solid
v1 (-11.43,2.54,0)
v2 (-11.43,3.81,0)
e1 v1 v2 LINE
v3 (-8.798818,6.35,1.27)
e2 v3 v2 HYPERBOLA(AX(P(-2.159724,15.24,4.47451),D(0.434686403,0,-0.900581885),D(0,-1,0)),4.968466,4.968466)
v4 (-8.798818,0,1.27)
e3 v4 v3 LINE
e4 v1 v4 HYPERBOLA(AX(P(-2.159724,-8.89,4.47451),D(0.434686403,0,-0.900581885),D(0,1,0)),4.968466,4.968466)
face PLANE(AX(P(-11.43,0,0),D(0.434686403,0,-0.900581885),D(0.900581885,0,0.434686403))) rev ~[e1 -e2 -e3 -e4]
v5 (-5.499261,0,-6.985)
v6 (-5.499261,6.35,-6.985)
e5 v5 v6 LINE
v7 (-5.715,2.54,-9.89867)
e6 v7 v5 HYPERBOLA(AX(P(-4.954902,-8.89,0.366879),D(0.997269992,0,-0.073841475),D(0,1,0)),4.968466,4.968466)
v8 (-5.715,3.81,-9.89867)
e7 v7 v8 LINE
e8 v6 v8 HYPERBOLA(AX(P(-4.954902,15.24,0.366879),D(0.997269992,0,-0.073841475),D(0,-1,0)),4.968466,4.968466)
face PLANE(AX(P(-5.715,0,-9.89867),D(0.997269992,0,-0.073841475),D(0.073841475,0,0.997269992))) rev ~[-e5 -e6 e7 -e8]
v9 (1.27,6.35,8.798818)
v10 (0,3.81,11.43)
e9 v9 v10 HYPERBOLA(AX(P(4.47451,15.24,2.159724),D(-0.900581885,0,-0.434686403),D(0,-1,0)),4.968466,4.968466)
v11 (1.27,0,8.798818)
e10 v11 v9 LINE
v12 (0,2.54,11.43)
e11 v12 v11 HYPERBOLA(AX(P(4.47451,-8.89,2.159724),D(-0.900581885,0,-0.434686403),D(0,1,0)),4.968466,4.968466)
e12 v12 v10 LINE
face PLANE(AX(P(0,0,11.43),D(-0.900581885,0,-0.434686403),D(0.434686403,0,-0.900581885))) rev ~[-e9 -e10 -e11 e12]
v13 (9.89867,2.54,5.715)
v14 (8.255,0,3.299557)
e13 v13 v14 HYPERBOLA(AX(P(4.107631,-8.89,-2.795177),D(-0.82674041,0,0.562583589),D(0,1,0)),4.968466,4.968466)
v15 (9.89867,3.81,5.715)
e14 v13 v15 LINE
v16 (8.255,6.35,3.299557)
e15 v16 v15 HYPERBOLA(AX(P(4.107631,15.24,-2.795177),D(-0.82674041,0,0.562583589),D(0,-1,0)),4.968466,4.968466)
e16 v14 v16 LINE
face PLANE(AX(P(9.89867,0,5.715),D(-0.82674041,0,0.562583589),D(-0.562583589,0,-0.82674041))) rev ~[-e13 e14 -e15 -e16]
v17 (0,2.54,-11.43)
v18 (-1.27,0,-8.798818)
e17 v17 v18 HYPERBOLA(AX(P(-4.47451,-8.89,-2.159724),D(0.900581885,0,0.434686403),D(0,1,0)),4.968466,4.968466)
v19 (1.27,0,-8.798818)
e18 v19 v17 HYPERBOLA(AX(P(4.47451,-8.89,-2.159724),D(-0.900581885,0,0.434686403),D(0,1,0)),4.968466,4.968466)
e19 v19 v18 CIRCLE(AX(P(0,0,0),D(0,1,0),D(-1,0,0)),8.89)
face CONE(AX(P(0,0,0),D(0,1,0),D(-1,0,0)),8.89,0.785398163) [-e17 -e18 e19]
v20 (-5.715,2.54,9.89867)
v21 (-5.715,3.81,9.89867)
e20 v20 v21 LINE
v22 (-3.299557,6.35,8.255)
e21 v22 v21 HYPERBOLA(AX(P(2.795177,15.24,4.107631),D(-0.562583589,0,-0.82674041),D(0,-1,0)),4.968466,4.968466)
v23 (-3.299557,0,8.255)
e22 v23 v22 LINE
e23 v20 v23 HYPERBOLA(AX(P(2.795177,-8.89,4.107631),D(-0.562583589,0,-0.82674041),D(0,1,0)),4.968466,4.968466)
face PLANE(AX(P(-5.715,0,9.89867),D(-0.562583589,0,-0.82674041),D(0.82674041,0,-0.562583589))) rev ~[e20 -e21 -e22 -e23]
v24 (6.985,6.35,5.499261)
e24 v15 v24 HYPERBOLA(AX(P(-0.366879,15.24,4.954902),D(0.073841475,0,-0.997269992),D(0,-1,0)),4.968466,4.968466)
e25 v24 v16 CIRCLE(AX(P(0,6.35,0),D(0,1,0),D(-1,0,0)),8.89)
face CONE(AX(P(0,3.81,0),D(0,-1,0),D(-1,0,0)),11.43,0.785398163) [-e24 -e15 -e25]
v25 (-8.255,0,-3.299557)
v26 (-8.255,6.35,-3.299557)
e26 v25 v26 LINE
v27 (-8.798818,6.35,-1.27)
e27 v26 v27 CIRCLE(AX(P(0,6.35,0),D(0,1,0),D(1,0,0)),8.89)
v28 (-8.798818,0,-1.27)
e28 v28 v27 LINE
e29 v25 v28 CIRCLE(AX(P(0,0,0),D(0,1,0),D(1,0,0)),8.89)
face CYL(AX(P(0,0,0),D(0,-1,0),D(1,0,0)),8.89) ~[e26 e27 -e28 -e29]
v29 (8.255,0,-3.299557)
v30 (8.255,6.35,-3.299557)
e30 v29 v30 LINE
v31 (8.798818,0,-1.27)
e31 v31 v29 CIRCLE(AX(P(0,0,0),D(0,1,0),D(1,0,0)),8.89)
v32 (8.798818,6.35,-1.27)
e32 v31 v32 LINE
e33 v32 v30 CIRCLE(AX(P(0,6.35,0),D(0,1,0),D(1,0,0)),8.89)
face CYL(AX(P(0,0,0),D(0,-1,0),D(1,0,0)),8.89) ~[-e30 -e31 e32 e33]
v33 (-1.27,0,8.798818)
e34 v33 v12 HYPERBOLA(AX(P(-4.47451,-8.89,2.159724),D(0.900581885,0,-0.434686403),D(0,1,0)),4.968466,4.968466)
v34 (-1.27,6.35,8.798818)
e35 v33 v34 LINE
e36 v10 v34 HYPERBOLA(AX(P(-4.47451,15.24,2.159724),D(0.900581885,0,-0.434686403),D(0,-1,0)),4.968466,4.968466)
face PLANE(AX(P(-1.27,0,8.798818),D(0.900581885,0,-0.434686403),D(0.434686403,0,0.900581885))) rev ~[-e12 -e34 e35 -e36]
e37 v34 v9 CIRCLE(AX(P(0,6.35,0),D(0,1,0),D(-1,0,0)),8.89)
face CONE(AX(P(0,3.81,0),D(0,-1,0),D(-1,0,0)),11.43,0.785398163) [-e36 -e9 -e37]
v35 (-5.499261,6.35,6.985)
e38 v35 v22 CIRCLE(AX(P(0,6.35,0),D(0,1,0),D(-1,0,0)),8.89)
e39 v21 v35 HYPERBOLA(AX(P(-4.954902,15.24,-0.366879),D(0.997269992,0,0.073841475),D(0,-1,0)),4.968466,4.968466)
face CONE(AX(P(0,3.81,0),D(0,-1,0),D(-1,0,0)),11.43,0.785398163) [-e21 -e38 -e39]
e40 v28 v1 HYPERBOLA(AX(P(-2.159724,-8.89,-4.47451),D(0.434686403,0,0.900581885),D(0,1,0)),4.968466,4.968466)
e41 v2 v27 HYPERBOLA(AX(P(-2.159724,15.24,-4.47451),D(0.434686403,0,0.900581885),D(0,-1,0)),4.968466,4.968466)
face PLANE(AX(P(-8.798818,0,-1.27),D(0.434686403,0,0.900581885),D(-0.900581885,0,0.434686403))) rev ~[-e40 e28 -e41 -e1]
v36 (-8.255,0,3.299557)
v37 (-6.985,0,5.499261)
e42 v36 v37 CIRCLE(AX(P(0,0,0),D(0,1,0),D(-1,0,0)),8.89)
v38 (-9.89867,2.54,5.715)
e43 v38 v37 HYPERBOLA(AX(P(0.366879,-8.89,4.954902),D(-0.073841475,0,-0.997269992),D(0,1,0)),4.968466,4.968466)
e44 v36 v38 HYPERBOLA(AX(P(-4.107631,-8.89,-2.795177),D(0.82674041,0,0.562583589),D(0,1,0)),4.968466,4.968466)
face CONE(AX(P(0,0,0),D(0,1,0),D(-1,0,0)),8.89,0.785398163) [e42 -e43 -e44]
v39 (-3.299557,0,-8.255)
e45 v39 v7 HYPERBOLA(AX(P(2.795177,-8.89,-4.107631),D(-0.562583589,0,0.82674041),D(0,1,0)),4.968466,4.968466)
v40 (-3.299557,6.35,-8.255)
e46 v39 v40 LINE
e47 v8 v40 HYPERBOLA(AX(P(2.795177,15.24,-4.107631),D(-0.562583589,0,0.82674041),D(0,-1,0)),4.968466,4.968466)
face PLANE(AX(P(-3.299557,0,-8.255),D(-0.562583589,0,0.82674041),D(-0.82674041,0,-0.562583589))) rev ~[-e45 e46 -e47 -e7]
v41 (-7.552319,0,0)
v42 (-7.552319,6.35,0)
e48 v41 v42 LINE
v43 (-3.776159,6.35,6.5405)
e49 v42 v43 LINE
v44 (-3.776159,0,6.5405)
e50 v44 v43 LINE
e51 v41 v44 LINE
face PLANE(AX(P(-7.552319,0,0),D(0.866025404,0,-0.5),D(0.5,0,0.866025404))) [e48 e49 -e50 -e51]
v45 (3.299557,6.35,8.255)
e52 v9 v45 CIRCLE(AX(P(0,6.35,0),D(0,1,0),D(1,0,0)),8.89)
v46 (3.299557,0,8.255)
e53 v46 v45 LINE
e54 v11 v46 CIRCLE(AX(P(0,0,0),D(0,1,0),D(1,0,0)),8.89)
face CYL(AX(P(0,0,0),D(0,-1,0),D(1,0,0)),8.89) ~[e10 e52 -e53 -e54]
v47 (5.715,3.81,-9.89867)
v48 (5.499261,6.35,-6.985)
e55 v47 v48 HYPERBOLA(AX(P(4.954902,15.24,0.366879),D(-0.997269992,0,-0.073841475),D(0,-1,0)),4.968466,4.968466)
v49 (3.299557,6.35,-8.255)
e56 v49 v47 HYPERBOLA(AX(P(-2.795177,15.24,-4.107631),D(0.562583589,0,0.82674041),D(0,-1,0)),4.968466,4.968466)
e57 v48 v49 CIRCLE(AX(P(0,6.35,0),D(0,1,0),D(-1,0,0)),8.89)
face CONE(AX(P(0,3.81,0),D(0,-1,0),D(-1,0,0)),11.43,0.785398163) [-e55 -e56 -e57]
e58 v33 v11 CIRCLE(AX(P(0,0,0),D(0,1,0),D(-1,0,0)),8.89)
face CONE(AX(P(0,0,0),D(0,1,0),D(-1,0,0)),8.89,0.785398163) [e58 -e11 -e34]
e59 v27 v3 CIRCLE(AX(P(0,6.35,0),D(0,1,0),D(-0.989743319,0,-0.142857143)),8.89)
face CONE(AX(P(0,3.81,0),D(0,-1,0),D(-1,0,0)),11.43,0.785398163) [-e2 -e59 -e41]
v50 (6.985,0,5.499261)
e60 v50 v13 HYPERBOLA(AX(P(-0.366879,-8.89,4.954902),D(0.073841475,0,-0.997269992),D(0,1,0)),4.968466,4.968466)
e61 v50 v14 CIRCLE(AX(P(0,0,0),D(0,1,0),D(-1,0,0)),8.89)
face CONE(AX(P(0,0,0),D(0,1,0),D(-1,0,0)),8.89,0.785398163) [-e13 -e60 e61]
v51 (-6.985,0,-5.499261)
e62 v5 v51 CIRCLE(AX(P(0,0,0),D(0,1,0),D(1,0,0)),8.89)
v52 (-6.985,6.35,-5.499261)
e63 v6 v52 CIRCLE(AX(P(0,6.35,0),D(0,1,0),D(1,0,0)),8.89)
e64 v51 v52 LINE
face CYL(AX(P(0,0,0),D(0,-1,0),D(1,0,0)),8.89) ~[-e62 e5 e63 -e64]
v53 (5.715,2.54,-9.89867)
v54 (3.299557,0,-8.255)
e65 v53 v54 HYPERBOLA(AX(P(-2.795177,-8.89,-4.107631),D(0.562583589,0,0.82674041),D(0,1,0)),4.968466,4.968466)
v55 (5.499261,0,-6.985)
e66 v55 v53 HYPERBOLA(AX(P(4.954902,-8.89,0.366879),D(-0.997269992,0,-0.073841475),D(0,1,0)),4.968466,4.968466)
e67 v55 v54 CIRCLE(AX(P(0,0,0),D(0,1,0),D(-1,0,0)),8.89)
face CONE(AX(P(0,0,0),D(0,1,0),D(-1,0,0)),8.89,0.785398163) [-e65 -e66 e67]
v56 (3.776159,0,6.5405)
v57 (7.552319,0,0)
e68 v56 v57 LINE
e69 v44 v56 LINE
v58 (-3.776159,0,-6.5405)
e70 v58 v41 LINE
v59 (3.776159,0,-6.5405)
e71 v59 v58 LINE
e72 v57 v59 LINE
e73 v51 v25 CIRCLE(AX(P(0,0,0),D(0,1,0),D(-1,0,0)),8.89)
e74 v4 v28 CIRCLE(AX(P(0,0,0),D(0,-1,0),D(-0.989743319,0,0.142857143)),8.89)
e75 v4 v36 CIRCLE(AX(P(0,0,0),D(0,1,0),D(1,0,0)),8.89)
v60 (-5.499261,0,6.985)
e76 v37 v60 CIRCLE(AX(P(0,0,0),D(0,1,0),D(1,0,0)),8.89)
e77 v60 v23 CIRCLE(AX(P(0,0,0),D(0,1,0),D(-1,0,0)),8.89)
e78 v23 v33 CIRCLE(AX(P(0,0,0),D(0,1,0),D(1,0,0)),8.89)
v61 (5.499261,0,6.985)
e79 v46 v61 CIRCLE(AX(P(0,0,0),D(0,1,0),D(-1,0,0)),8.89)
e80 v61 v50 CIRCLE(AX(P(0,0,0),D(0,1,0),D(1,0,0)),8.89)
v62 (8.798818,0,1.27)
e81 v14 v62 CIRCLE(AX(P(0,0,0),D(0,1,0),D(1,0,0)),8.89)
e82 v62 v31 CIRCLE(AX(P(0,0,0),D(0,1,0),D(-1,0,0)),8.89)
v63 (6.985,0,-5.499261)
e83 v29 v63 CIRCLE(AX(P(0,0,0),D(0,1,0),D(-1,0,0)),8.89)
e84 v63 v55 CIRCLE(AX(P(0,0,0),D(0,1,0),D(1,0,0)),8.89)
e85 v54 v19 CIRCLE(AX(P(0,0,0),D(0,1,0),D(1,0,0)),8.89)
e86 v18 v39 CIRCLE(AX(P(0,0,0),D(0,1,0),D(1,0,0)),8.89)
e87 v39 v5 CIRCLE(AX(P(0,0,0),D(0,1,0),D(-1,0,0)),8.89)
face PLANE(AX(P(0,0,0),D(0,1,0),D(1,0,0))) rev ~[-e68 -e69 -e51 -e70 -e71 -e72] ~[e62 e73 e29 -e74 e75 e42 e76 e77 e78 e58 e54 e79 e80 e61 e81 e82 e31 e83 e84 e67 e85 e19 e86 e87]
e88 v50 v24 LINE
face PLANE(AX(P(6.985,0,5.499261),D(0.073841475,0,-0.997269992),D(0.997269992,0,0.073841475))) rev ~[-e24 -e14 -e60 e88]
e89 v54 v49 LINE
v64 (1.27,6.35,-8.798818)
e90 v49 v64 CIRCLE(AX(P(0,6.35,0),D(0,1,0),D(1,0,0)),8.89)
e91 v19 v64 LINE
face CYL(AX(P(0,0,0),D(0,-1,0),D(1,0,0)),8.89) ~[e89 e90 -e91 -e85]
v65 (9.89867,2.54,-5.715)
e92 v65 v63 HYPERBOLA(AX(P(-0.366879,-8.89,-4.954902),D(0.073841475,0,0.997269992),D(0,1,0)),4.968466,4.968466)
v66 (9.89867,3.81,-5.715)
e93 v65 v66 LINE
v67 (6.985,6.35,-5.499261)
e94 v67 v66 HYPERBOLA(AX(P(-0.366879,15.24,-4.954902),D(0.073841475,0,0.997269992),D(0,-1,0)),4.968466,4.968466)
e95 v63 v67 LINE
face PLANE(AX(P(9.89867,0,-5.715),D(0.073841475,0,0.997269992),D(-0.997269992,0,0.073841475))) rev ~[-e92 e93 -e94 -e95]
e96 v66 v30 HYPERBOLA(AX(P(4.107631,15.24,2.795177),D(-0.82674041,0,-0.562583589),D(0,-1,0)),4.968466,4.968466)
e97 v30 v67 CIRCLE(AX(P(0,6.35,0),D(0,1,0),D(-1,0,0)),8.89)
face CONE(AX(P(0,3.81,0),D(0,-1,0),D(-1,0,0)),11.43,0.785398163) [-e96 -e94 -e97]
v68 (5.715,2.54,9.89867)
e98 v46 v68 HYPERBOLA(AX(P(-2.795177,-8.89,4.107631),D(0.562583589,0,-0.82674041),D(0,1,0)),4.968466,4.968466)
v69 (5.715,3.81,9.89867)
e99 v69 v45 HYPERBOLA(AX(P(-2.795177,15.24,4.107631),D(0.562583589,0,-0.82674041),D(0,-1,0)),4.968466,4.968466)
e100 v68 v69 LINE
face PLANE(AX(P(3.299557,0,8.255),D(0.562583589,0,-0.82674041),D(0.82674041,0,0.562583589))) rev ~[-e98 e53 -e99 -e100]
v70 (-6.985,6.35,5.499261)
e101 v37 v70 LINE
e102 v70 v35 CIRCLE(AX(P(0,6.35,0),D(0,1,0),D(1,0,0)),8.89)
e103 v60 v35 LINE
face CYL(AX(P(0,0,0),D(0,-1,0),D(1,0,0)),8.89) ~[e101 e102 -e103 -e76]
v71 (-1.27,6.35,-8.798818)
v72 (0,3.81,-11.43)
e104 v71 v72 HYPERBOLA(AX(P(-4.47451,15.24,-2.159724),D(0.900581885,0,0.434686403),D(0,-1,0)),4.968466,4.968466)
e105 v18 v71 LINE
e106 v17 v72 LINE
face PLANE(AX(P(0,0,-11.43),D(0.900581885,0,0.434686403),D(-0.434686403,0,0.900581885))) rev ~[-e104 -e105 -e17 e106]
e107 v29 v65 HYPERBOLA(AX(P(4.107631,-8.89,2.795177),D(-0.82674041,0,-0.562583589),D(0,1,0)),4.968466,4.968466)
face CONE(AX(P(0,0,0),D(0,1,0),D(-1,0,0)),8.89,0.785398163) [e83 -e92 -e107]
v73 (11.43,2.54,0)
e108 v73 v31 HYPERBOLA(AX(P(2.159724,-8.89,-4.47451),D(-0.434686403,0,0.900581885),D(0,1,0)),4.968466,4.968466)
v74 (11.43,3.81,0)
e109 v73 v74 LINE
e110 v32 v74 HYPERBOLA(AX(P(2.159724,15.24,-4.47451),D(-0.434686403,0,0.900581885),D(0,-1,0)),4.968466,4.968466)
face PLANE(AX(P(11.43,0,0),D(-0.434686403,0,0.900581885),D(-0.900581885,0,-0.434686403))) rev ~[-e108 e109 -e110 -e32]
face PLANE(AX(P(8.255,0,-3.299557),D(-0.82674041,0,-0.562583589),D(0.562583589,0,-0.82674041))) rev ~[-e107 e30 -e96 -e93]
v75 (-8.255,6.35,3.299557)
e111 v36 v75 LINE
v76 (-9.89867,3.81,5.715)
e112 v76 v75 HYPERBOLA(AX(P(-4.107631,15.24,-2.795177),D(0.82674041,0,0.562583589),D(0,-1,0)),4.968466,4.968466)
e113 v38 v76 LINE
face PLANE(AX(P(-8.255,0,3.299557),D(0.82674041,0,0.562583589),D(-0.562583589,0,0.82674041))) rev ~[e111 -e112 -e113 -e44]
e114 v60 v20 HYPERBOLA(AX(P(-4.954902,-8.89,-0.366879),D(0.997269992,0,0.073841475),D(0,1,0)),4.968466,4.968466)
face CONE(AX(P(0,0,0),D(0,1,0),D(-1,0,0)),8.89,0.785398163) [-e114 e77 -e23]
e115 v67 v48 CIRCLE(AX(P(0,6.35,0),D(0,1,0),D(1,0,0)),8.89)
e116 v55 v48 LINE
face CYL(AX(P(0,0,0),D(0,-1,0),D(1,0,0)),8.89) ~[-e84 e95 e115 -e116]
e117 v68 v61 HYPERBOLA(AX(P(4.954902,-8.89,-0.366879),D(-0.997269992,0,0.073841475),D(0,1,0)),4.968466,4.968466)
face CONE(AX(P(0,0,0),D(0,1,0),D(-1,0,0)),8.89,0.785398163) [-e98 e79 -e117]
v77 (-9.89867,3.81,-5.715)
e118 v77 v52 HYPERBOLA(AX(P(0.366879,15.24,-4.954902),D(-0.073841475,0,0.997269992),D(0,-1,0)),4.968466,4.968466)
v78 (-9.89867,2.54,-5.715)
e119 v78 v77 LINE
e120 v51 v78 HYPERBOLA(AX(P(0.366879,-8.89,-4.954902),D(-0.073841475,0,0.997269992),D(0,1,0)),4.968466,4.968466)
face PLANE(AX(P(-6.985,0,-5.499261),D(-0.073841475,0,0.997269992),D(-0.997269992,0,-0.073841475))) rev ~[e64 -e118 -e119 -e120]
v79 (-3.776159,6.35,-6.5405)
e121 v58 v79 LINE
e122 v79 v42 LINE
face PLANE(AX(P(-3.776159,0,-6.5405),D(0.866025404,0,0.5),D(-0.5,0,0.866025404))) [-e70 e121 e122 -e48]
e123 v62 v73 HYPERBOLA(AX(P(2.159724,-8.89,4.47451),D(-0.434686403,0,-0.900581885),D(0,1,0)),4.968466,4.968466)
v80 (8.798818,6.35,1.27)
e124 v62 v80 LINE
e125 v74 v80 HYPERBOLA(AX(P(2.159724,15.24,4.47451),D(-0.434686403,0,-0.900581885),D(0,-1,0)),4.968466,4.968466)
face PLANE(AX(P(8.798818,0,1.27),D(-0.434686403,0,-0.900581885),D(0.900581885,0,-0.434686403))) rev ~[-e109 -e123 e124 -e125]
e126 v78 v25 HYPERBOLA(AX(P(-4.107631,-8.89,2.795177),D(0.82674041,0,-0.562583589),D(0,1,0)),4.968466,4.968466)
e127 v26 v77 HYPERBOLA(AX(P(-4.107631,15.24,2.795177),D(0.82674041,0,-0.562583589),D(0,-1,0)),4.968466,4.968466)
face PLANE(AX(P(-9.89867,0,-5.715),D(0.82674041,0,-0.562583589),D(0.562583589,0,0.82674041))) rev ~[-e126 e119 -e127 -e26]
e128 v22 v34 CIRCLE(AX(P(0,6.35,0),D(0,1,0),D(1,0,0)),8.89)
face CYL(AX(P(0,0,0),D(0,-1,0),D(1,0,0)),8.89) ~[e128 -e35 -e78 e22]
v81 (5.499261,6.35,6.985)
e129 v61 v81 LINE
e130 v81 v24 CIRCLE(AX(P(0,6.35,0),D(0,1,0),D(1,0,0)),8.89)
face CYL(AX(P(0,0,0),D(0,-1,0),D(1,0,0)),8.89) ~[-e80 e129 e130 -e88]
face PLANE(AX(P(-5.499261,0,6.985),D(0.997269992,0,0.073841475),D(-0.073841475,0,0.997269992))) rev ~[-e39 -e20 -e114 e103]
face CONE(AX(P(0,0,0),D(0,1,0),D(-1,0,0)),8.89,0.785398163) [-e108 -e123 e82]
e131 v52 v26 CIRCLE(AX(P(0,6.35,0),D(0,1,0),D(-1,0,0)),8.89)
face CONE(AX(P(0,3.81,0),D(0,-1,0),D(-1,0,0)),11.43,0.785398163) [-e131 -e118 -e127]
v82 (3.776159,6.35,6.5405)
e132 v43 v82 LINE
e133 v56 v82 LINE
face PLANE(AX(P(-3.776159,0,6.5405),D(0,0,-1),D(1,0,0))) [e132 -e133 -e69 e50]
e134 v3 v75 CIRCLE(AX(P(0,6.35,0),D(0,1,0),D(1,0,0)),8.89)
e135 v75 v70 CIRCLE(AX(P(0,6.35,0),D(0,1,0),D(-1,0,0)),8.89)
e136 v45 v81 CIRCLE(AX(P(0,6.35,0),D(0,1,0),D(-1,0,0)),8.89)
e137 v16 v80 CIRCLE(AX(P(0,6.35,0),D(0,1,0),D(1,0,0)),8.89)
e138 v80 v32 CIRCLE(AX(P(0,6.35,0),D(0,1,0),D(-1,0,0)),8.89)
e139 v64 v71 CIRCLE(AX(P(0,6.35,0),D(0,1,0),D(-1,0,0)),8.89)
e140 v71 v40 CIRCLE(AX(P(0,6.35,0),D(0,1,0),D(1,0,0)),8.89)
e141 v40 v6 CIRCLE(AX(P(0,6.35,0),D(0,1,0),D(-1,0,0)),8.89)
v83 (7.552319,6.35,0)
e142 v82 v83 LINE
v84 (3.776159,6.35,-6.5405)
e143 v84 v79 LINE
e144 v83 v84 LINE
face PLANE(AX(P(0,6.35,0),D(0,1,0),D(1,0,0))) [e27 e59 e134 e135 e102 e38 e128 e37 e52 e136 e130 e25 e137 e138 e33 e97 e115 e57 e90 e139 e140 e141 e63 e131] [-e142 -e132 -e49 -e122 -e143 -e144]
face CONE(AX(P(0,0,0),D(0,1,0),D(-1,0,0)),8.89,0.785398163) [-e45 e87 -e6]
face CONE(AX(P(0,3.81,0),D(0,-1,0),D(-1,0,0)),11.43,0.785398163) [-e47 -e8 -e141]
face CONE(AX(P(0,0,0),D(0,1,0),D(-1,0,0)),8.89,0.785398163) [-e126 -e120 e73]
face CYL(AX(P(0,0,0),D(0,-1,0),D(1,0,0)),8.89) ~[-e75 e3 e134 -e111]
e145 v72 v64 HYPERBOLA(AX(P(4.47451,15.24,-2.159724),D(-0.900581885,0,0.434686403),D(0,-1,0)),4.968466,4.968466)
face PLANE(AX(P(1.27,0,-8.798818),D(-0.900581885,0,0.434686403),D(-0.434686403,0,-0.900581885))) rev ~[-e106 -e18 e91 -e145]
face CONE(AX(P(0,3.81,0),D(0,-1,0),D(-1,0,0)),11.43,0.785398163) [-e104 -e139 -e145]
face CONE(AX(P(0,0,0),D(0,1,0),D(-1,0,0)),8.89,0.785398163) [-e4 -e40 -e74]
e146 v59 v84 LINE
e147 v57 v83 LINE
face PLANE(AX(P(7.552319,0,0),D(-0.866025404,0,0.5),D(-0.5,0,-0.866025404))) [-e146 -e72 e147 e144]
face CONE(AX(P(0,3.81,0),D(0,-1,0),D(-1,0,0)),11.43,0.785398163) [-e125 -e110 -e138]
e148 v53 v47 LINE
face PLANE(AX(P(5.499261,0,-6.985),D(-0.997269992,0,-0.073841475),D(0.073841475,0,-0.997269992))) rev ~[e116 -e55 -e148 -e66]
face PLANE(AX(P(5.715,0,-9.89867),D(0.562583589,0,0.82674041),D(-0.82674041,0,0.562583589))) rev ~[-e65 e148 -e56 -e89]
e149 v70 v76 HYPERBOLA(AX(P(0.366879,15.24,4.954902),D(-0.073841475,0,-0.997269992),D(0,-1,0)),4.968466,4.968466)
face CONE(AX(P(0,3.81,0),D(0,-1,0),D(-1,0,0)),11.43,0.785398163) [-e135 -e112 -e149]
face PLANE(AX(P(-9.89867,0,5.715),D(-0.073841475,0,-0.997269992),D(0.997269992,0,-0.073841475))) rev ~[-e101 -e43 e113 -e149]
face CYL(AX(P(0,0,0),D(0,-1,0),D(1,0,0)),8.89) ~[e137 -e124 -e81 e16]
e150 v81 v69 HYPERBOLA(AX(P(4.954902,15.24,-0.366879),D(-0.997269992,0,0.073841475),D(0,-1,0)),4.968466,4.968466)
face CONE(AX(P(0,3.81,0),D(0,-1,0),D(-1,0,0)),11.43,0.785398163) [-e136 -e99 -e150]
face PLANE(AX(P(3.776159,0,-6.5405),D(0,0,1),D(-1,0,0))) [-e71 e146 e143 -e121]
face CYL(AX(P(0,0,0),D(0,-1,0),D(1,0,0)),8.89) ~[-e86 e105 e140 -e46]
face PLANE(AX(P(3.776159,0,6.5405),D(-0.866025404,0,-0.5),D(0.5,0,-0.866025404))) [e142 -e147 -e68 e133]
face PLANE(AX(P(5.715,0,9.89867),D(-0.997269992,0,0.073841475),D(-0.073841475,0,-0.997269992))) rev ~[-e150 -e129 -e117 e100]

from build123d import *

# Parameters (mm, degrees)
SKETCH1_R           = 8.89
BOSS_EXTRUDE1_DEPTH = 6.35


with BuildPart() as part:
    # Sketch1 → Boss-Extrude1 (new body)
    # profile 1 of 13: a face of its own
    with BuildSketch(Plane(origin=(0, 0, 0), x_dir=(1, 0, 0), z_dir=(0, 1, 0))):
        Circle(SKETCH1_R)
        Polygon((3.776159436, -6.5405), (7.552318871, 0), (3.776159436, 6.5405), (-3.776159436, 6.5405), (-7.552318871, 0), (-3.776159436, -6.5405), align=None, mode=Mode.SUBTRACT)
    # profile 2 of 13: a face of its own
    with BuildSketch(Plane(origin=(0, 0, 0), x_dir=(1, 0, 0), z_dir=(0, 1, 0))):
        with BuildLine():
            ThreePointArc((-8.798818102, -1.27), (-8.89, 0), (-8.798818102, 1.27))
            Line((-8.798818102, 1.27), (-11.43, 0))
            Line((-11.43, 0), (-8.798818102, -1.27))
        make_face()
    # profile 3 of 13: a face of its own
    with BuildSketch(Plane(origin=(0, 0, 0), x_dir=(1, 0, 0), z_dir=(0, 1, 0))):
        with BuildLine():
            ThreePointArc((-6.985, -5.499261314), (-7.69896584, -4.445), (-8.255, -3.299556788))
            Line((-8.255, -3.299556788), (-9.898670365, -5.715))
            Line((-9.898670365, -5.715), (-6.985, -5.499261314))
        make_face()
    # profile 4 of 13: a face of its own
    with BuildSketch(Plane(origin=(0, 0, 0), x_dir=(1, 0, 0), z_dir=(0, 1, 0))):
        with BuildLine():
            ThreePointArc((-3.299556788, -8.255), (-4.445, -7.69896584), (-5.499261314, -6.985))
            Line((-5.499261314, -6.985), (-5.715, -9.898670365))
            Line((-5.715, -9.898670365), (-3.299556788, -8.255))
        make_face()
    # profile 5 of 13: a face of its own
    with BuildSketch(Plane(origin=(0, 0, 0), x_dir=(1, 0, 0), z_dir=(0, 1, 0))):
        with BuildLine():
            ThreePointArc((1.27, -8.798818102), (0, -8.89), (-1.27, -8.798818102))
            Line((-1.27, -8.798818102), (0, -11.43))
            Line((0, -11.43), (1.27, -8.798818102))
        make_face()
    # profile 6 of 13: a face of its own
    with BuildSketch(Plane(origin=(0, 0, 0), x_dir=(1, 0, 0), z_dir=(0, 1, 0))):
        with BuildLine():
            Line((5.715, -9.898670365), (5.499261314, -6.985))
            ThreePointArc((5.499261314, -6.985), (4.445, -7.69896584), (3.299556788, -8.255))
            Line((3.299556788, -8.255), (5.715, -9.898670365))
        make_face()
    # profile 7 of 13: a face of its own
    with BuildSketch(Plane(origin=(0, 0, 0), x_dir=(1, 0, 0), z_dir=(0, 1, 0))):
        with BuildLine():
            Line((9.898670365, -5.715), (8.255, -3.299556788))
            ThreePointArc((8.255, -3.299556788), (7.69896584, -4.445), (6.985, -5.499261314))
            Line((6.985, -5.499261314), (9.898670365, -5.715))
        make_face()
    # profile 8 of 13: a face of its own
    with BuildSketch(Plane(origin=(0, 0, 0), x_dir=(1, 0, 0), z_dir=(0, 1, 0))):
        with BuildLine():
            Line((11.43, 0), (8.798818102, 1.27))
            ThreePointArc((8.798818102, 1.27), (8.867175225, 0.636634538), (8.89, 0))
            ThreePointArc((8.89, 0), (8.867175225, -0.636634538), (8.798818102, -1.27))
            Line((8.798818102, -1.27), (11.43, 0))
        make_face()
    # profile 9 of 13: a face of its own
    with BuildSketch(Plane(origin=(0, 0, 0), x_dir=(1, 0, 0), z_dir=(0, 1, 0))):
        with BuildLine():
            Line((9.898670365, 5.715), (6.985, 5.499261314))
            ThreePointArc((6.985, 5.499261314), (7.69896584, 4.445), (8.255, 3.299556788))
            Line((8.255, 3.299556788), (9.898670365, 5.715))
        make_face()
    # profile 10 of 13: a face of its own
    with BuildSketch(Plane(origin=(0, 0, 0), x_dir=(1, 0, 0), z_dir=(0, 1, 0))):
        with BuildLine():
            Line((5.715, 9.898670365), (3.299556788, 8.255))
            ThreePointArc((3.299556788, 8.255), (4.445, 7.69896584), (5.499261314, 6.985))
            Line((5.499261314, 6.985), (5.715, 9.898670365))
        make_face()
    # profile 11 of 13: a face of its own
    with BuildSketch(Plane(origin=(0, 0, 0), x_dir=(1, 0, 0), z_dir=(0, 1, 0))):
        with BuildLine():
            Line((1.27, 8.798818102), (0, 11.43))
            Line((0, 11.43), (-1.27, 8.798818102))
            ThreePointArc((-1.27, 8.798818102), (0, 8.89), (1.27, 8.798818102))
        make_face()
    # profile 12 of 13: a face of its own
    with BuildSketch(Plane(origin=(0, 0, 0), x_dir=(1, 0, 0), z_dir=(0, 1, 0))):
        with BuildLine():
            ThreePointArc((-5.499261314, 6.985), (-4.445, 7.69896584), (-3.299556788, 8.255))
            Line((-3.299556788, 8.255), (-5.715, 9.898670365))
            Line((-5.715, 9.898670365), (-5.499261314, 6.985))
        make_face()
    # profile 13 of 13: a face of its own
    with BuildSketch(Plane(origin=(0, 0, 0), x_dir=(1, 0, 0), z_dir=(0, 1, 0))):
        with BuildLine():
            ThreePointArc((-8.255, 3.299556788), (-7.69896584, 4.445), (-6.985, 5.499261314))
            Line((-6.985, 5.499261314), (-9.898670365, 5.715))
            Line((-9.898670365, 5.715), (-8.255, 3.299556788))
        make_face()
    extrude(amount=BOSS_EXTRUDE1_DEPTH)

    # Sketch2 → Cut-Revolve1 (revolve, cut)
    with BuildSketch(Plane.XY):
        Polygon((-11.43, 3.81), (-8.89, 6.35), (-11.43, 6.35), align=None)
        Polygon((-11.43, 0), (-8.89, 0), (-11.43, 2.54), align=None)
    revolve(axis=Axis((0, 0, 0), (0, 1, 0)), mode=Mode.SUBTRACT)


solid = part.part
